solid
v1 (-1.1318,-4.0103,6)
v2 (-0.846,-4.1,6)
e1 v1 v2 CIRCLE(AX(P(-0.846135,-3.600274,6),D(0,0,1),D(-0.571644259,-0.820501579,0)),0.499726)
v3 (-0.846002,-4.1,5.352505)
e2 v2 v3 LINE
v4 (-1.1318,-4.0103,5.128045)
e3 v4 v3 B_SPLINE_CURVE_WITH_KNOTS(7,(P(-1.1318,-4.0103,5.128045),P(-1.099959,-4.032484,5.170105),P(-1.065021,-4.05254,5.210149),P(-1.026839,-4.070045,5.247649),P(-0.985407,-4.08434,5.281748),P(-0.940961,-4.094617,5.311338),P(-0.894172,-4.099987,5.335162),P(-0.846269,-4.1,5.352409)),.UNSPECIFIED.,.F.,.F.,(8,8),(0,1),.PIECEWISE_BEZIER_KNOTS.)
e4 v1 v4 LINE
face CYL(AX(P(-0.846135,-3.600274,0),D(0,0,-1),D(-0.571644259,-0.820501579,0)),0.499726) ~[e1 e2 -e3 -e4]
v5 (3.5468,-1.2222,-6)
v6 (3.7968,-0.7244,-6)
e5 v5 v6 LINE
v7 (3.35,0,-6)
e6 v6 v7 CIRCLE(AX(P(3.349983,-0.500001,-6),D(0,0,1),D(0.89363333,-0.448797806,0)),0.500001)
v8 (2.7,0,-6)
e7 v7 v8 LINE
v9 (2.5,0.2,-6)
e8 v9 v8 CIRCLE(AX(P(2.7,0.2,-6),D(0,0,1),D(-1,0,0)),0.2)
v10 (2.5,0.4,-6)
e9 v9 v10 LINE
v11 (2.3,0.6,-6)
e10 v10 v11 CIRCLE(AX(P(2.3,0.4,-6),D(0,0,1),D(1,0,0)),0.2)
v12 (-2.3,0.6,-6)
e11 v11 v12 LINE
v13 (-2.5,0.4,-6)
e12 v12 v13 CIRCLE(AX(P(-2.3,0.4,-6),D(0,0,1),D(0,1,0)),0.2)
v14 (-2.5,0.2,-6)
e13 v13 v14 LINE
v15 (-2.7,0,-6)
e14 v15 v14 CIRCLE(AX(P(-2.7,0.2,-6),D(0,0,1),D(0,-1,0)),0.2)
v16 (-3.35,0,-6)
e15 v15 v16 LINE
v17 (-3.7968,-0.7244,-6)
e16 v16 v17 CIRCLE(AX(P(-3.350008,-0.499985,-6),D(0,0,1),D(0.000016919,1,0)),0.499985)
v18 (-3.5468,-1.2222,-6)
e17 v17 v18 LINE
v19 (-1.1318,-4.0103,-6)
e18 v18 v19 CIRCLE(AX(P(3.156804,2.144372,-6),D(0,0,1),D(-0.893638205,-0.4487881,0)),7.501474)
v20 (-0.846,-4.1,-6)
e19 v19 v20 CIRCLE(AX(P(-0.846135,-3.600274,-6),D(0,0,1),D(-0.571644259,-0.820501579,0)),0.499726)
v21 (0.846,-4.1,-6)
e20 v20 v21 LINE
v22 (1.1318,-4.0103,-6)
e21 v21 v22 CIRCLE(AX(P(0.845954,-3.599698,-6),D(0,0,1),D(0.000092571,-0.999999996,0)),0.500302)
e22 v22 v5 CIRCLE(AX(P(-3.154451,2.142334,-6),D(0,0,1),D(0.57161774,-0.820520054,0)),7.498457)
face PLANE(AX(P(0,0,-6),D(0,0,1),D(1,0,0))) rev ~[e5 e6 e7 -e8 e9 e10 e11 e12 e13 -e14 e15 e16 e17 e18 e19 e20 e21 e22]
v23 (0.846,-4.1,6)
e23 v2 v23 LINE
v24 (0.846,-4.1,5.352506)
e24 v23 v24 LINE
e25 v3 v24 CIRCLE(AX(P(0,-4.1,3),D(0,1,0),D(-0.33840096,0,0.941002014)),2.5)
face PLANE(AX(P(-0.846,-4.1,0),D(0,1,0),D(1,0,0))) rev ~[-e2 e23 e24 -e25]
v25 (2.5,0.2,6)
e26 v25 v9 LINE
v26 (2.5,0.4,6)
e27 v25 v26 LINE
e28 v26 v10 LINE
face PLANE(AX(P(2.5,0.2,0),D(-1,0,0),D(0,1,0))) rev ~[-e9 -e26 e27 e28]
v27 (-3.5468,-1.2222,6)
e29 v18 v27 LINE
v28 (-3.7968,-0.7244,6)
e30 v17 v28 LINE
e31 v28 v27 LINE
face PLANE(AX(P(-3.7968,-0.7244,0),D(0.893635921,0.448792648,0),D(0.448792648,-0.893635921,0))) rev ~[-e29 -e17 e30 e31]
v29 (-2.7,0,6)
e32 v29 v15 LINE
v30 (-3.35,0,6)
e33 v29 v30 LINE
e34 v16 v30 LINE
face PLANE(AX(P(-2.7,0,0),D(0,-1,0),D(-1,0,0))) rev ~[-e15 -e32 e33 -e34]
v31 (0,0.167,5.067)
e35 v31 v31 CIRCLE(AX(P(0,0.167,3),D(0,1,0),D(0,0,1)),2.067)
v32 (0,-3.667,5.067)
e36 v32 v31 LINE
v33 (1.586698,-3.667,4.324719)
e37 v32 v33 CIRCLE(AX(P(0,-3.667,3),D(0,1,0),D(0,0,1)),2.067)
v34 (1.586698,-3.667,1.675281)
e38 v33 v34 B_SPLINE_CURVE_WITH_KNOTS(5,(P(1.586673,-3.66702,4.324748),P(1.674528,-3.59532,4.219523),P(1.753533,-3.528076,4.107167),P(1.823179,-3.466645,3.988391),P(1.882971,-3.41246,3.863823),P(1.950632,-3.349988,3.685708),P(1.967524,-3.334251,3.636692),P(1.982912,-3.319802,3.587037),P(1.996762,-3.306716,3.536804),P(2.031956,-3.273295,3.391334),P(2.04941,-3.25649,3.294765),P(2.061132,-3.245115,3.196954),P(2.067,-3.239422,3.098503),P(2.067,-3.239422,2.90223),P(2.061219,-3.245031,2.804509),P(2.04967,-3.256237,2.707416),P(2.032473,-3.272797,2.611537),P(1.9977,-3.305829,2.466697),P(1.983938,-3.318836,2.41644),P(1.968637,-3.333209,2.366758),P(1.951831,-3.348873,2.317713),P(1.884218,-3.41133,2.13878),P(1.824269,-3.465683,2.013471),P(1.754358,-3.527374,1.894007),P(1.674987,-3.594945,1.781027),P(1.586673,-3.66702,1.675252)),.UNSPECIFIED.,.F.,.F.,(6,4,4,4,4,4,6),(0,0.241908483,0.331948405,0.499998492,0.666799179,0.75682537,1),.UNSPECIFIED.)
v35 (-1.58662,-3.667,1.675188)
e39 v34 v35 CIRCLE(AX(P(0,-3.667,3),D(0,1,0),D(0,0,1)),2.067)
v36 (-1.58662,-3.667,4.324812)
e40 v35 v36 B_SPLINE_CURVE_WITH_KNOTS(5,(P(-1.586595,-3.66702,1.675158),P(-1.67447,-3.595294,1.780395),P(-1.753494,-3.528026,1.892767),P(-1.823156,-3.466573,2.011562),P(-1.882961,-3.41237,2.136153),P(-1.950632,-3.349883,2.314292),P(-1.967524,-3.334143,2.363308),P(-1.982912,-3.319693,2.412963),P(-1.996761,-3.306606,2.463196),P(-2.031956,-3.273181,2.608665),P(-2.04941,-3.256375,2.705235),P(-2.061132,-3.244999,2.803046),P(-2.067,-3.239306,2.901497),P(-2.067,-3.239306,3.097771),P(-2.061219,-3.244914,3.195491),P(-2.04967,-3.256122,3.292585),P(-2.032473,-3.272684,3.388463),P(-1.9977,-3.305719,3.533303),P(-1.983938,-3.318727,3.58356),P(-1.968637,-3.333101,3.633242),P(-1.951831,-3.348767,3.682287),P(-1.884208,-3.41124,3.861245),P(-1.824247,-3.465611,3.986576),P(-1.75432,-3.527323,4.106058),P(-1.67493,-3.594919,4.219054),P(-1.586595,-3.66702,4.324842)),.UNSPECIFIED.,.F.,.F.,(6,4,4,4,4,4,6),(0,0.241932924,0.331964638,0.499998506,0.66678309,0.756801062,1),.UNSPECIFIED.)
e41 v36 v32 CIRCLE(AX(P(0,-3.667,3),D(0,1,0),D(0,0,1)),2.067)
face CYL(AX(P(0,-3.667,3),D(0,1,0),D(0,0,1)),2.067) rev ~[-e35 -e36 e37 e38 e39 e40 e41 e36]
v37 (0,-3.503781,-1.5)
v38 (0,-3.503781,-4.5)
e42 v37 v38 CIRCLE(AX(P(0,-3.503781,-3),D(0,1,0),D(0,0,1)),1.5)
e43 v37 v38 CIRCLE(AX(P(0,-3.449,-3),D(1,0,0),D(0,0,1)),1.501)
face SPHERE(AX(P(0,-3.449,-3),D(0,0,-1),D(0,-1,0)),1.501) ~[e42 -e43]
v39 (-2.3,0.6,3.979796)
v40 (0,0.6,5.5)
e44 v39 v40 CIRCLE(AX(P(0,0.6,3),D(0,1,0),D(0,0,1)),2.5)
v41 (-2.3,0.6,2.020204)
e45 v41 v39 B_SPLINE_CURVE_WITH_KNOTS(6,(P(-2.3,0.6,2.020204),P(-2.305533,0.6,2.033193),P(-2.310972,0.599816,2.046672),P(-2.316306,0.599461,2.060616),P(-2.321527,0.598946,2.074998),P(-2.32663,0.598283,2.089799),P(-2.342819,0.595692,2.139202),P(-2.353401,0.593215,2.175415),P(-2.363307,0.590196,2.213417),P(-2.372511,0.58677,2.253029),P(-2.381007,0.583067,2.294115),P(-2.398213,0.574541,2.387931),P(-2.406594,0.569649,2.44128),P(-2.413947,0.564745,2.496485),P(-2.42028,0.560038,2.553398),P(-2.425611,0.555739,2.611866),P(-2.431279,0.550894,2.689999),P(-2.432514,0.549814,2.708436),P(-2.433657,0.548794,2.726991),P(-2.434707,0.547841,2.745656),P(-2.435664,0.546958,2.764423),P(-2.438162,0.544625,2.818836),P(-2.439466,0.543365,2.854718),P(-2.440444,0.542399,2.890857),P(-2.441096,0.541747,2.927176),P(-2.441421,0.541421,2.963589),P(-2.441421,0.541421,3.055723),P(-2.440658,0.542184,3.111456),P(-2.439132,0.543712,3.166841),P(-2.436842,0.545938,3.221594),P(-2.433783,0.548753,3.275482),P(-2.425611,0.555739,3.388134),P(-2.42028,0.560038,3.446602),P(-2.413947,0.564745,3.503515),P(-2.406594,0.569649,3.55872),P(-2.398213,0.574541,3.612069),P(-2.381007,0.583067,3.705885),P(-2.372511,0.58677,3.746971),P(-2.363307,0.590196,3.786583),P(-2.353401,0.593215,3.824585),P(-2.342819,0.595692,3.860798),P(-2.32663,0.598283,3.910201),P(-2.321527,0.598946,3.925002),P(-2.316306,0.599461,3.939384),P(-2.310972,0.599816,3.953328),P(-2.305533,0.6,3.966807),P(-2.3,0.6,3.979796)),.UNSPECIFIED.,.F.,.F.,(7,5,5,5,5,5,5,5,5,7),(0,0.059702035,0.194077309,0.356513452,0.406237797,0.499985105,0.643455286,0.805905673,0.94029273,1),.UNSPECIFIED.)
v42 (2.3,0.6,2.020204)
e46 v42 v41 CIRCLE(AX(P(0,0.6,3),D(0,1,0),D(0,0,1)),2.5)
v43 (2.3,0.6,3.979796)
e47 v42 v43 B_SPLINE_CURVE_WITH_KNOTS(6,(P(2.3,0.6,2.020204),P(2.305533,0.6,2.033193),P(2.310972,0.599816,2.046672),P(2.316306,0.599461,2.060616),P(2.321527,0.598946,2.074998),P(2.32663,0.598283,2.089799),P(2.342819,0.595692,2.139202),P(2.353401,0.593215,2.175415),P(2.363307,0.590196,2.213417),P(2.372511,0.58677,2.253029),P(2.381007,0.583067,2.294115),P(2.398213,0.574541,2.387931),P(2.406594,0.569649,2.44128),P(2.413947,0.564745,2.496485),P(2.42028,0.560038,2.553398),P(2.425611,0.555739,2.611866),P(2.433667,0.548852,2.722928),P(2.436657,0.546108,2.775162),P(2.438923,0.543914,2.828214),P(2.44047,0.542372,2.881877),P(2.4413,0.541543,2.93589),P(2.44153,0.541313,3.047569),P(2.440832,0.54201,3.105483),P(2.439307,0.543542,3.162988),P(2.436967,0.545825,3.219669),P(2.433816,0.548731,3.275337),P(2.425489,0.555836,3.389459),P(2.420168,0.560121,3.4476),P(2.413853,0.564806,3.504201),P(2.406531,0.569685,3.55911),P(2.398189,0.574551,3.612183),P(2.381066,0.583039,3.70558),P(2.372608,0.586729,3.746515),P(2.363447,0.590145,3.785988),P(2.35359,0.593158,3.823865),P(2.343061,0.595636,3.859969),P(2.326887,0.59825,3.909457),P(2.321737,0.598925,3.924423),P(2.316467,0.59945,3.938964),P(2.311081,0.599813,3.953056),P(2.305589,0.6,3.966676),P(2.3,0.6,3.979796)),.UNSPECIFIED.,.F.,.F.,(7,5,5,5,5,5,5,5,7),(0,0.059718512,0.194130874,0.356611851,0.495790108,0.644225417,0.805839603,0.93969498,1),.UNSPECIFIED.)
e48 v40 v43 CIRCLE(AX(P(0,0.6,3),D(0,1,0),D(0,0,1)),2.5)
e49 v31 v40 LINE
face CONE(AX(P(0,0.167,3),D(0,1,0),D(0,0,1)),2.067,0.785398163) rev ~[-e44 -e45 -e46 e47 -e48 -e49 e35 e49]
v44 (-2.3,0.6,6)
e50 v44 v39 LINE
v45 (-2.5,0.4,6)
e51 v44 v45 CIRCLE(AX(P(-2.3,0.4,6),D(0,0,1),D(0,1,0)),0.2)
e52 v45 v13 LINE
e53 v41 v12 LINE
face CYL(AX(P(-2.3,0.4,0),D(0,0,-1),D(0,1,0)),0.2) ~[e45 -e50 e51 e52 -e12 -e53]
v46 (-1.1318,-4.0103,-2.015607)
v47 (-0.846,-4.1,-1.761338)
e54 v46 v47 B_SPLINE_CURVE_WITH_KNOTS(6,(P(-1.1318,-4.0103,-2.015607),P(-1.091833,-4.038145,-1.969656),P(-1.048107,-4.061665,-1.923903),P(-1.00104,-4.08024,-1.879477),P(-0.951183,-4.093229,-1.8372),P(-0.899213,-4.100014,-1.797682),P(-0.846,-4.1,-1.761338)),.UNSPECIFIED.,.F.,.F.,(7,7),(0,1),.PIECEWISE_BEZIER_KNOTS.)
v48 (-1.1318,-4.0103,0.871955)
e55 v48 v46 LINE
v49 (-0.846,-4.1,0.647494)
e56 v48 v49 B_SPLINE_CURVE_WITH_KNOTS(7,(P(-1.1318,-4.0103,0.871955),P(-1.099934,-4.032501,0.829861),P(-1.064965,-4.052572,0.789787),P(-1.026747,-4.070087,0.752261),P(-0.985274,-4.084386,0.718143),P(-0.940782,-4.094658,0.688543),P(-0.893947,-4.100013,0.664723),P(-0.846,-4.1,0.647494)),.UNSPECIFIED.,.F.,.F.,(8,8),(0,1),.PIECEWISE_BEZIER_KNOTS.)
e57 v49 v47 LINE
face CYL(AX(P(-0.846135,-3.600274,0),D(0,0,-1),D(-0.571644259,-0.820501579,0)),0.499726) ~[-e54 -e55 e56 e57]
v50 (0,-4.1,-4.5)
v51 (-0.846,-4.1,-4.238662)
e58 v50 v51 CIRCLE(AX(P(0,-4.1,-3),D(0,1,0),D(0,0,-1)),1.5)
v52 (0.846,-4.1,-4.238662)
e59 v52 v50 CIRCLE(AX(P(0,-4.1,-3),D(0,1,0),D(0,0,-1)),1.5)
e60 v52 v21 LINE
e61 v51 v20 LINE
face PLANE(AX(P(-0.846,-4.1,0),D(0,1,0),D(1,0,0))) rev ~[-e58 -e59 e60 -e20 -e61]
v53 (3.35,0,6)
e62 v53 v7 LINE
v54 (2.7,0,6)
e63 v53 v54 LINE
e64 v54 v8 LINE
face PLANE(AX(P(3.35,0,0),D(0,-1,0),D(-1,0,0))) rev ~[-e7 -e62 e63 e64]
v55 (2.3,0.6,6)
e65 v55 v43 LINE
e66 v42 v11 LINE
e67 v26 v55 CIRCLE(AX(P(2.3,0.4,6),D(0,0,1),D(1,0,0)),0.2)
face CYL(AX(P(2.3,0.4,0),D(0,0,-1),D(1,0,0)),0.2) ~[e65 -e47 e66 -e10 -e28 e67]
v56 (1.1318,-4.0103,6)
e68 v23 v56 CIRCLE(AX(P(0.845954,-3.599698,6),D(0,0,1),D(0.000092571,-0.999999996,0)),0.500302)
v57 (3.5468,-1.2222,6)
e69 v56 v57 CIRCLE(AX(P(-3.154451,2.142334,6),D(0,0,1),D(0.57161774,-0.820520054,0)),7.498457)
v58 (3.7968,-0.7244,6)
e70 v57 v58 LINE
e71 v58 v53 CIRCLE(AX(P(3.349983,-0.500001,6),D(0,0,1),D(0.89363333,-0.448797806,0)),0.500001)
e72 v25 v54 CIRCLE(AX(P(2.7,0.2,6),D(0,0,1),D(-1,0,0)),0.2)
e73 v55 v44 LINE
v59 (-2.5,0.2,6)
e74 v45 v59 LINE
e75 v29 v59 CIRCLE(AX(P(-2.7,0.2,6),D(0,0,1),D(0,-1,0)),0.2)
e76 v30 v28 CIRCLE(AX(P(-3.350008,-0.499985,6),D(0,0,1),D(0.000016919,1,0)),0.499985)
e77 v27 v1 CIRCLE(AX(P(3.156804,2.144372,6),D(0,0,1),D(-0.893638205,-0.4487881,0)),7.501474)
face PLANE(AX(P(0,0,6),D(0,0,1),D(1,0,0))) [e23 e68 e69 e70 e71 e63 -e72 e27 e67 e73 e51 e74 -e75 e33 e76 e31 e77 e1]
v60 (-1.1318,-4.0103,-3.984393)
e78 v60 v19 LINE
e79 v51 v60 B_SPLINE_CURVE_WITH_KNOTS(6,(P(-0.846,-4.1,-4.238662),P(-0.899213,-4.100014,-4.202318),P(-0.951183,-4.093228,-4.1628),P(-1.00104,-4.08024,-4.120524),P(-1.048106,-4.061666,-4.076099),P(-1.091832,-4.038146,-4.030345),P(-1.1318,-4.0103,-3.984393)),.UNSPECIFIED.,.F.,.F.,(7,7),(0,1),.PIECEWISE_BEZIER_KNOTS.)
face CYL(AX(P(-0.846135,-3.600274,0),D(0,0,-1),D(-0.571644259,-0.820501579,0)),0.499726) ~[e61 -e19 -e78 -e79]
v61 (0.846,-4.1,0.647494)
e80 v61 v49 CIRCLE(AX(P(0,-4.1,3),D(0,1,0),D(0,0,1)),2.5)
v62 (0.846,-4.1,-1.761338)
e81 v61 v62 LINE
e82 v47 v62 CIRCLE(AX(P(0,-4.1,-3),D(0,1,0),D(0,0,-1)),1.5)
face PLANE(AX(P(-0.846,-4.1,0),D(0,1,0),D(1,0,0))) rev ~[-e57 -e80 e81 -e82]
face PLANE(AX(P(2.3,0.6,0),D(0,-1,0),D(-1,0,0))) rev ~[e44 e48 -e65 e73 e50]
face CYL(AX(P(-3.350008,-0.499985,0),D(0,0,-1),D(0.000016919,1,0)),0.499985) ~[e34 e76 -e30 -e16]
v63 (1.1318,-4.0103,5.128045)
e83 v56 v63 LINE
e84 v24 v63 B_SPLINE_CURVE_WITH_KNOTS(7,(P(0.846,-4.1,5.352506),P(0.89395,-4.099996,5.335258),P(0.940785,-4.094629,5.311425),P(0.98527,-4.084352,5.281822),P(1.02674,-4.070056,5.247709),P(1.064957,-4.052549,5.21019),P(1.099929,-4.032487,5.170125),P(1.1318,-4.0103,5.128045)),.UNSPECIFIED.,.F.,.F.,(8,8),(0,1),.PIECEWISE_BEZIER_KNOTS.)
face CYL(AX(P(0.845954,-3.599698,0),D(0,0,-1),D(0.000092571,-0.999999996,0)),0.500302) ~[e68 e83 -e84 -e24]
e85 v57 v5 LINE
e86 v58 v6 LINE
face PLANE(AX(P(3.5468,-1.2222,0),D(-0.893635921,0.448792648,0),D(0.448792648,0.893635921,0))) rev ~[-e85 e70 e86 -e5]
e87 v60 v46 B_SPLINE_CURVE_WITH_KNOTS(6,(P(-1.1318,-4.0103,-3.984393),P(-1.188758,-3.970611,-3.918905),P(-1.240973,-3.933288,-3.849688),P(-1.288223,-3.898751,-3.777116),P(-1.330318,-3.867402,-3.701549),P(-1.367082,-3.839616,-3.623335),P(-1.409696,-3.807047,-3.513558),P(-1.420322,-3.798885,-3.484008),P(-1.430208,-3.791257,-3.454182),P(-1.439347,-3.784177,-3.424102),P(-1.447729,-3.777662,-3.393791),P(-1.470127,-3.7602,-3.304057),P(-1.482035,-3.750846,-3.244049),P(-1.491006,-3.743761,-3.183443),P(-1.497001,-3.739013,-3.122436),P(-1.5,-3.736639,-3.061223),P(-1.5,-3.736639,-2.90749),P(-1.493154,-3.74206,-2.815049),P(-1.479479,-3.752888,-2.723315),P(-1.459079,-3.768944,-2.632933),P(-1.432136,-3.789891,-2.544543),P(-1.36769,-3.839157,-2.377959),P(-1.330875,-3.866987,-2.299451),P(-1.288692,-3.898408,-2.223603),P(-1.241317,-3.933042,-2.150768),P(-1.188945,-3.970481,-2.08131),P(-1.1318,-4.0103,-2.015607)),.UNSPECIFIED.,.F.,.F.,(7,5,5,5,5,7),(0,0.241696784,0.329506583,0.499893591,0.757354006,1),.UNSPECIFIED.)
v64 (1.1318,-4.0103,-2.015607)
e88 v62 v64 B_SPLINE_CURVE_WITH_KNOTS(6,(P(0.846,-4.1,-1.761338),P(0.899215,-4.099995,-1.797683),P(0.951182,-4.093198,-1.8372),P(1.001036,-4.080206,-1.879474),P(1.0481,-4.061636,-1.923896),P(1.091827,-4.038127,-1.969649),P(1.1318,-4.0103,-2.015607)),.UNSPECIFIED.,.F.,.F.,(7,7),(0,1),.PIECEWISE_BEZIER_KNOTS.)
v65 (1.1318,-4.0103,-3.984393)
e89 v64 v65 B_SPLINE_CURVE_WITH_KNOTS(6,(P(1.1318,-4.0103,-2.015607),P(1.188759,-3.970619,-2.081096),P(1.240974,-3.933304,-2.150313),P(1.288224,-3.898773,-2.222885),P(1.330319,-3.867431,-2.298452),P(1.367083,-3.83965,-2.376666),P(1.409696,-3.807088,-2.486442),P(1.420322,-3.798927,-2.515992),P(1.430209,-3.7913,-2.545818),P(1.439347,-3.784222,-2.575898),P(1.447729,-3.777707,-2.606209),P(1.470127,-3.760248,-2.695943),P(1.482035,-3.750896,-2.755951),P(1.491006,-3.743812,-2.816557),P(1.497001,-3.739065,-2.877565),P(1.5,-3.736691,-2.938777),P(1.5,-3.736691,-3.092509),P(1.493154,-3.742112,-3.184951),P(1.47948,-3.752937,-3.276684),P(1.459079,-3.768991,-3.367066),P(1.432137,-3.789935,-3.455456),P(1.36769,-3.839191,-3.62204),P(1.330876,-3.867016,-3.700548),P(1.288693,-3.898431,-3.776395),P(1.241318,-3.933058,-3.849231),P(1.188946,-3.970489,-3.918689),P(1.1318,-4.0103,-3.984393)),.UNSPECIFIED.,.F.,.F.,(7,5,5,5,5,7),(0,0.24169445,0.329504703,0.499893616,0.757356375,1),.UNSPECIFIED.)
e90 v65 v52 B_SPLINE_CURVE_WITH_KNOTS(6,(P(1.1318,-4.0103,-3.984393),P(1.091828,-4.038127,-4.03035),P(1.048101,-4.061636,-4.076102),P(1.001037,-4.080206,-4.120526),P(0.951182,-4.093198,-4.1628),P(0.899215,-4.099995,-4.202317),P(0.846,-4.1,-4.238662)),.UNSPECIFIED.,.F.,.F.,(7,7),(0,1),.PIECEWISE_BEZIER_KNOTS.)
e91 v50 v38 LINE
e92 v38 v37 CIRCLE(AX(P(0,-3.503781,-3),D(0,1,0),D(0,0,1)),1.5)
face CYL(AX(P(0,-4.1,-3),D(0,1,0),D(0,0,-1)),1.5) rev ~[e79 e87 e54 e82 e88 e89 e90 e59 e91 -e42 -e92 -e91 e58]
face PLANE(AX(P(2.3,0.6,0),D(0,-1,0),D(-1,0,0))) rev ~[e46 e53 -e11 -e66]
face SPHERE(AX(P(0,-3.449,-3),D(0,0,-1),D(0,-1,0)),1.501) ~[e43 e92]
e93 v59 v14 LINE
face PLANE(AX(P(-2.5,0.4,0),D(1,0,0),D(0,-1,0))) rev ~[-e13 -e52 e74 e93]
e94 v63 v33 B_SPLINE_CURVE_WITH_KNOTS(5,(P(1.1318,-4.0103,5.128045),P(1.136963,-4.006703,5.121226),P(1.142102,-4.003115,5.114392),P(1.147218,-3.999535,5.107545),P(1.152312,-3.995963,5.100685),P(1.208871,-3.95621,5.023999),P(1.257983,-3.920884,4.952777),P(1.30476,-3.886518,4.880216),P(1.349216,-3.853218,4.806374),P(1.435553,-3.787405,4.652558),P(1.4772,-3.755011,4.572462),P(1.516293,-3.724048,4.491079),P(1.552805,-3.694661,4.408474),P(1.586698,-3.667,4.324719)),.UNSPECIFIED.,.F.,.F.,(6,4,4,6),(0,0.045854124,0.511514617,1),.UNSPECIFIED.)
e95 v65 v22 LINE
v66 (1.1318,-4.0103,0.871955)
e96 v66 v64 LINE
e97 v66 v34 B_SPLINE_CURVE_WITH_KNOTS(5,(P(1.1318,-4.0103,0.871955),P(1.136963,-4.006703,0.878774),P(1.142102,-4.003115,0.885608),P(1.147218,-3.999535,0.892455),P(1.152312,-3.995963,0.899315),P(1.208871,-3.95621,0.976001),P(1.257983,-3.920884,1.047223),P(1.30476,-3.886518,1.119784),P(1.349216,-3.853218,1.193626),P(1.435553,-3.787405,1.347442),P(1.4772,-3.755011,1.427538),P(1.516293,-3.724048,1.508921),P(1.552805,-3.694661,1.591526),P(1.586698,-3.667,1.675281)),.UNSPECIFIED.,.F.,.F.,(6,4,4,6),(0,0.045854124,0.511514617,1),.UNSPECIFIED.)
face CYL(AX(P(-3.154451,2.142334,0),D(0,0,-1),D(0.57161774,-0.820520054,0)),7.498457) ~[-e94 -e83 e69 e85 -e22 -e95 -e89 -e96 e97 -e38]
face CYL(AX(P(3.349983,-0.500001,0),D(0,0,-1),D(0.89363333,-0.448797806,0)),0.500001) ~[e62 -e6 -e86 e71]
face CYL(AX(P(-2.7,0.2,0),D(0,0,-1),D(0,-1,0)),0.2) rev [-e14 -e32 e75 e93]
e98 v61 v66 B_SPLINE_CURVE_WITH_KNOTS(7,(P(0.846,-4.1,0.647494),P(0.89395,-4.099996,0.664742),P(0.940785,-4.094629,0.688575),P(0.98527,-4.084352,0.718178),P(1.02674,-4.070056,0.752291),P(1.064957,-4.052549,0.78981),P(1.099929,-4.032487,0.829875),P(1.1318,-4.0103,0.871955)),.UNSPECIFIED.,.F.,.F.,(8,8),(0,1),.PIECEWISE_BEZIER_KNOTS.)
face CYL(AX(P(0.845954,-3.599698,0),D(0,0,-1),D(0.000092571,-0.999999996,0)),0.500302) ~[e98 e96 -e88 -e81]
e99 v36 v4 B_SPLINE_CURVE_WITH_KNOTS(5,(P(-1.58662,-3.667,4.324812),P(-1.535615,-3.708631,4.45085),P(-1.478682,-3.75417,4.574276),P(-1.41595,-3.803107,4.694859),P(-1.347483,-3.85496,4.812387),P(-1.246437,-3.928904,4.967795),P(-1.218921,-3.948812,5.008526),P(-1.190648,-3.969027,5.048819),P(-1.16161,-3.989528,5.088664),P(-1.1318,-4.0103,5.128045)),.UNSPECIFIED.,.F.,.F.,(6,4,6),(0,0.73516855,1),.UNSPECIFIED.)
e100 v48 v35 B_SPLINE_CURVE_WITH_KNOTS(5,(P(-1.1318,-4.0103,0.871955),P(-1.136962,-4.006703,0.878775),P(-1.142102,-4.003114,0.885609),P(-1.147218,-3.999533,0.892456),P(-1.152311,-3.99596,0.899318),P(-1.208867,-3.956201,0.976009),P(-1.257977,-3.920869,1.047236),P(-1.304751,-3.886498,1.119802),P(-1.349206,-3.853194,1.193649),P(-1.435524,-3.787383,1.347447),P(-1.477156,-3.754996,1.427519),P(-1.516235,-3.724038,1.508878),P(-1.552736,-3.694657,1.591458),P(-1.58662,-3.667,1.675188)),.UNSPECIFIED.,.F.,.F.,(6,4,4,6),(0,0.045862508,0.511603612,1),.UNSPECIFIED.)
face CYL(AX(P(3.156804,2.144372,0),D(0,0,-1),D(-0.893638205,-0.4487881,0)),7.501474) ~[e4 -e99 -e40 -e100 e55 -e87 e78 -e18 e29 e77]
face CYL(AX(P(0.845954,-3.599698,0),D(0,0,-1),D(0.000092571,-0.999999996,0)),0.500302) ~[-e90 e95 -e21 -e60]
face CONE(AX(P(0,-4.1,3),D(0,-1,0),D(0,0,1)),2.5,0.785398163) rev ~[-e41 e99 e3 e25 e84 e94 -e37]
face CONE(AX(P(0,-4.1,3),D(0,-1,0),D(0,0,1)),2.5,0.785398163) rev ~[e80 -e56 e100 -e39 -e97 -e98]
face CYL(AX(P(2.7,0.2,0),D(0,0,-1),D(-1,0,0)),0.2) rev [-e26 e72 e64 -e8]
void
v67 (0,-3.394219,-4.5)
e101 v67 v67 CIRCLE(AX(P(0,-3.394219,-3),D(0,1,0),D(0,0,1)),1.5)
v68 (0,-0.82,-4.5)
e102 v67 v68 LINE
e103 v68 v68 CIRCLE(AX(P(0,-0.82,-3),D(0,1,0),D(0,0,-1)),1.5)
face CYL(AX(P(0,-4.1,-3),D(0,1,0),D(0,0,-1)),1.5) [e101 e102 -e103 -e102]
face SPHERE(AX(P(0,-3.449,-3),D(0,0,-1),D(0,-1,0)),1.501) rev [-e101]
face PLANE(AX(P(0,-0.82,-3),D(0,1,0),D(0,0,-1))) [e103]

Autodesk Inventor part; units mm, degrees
sketch "Sketch_1" plane through (0, 0, 0) normal (0, 0, 1) x (1, 0, 0)
  arc A0 (-3.35, 0) -> (-3.7968, -0.7244) centre (-3.35, -0.5) ccw
  line L0 (-3.7968, -0.7244) -> (-3.5468, -1.2222)
  arc A1 (-3.5468, -1.2222) -> (-1.1318, -4.0103) centre (3.1555, 2.1435) ccw
  arc A2 (-1.1318, -4.0103) -> (-0.846, -4.1) centre (-0.846, -3.6) ccw
  line L1 (-0.846, -4.1) -> (0.846, -4.1)
  arc A3 (0.846, -4.1) -> (1.1318, -4.0103) centre (0.846, -3.6) ccw
  arc A4 (1.1318, -4.0103) -> (3.5468, -1.2222) centre (-3.1555, 2.1435) ccw
  line L2 (3.5468, -1.2222) -> (3.7968, -0.7244)
  arc A5 (3.7968, -0.7244) -> (3.35, 0) centre (3.35, -0.5) ccw
  line L3 (3.35, 0) -> (2.7, 0)
  arc A6 (2.5, 0.2) -> (2.7, 0) centre (2.7, 0.2) ccw
  line L4 (2.5, 0.2) -> (2.5, 0.4)
  arc A7 (2.5, 0.4) -> (2.3, 0.6) centre (2.3, 0.4) ccw
  line L5 (2.3, 0.6) -> (-2.3, 0.6)
  arc A8 (-2.3, 0.6) -> (-2.5, 0.4) centre (-2.3, 0.4) ccw
  line L6 (-2.5, 0.4) -> (-2.5, 0.2)
  arc A9 (-2.7, 0) -> (-2.5, 0.2) centre (-2.7, 0.2) ccw
  line L7 (-2.7, 0) -> (-3.35, 0)
extrude "Extrusion1" add sketch "Sketch_1" along normal mid plane 12
sketch "Sketch_2" plane through (0, 0, 0) normal (1, 0, 0) x (0, 1, 0)
  line L0 (0.6, 3) -> (-4.1, 3)
  line L1 (-4.1, 3) -> (-4.1, 5.5)
  line L2 (-4.1, 5.5) -> (-3.667, 5.067)
  line L3 (-3.667, 5.067) -> (0.167, 5.067)
  line L4 (0.167, 5.067) -> (0.6, 5.5)
  line L5 (0.6, 5.5) -> (0.6, 3)
  line L6 (0.6, 3) -> (-4.1, 3)
revolve "Revolution1" cut sketch "Sketch_2" angle 360 about axis through (0, 0.6, 3) along (0, 1, 0)
thread "Thread1" size "M5x0.8" class "6H" standard "ISO Metric profile" full length
sketch "Sketch3" plane through (-0.846, -4.1, -6) normal (0, -1, 0) x (1, 0, 0)
  point P0 (0.846, 3)
hole "Hole1" at (0, -4.1, -3) direction (0, 1, 0) diameter 3 depth 3.28
sketch "Sketch_5" plane through (0, 0, 0) normal (1, 0, 0) x (0, 1, 0)
  line L0 (-3.449, -1.499) -> (-3.449, -4.501)
  arc A0 (-3.449, -1.499) -> (-3.449, -4.501) centre (-3.449, -3) ccw
  line L1 (-3.449, -1.499) -> (-3.449, -4.501)
revolve "Revolution2" add sketch "Sketch_5" angle 360 about axis through (0, -3.449, -1.499) along (0, 0, 1)
ref_plane "nut_to_bolt_XY" through (0, 0, 3) normal (0, 1, 0) x (1, 0, 0)
ref_plane "nut_to_bolt_YZ" through (0, 0, 3) normal (1, 0, 0) x (0, 0, -1)
ref_plane "nut_to_bolt_ZX" through (0, 0, 3) normal (0, 0, -1) x (0, 1, 0)
properties part number "13084_m"
